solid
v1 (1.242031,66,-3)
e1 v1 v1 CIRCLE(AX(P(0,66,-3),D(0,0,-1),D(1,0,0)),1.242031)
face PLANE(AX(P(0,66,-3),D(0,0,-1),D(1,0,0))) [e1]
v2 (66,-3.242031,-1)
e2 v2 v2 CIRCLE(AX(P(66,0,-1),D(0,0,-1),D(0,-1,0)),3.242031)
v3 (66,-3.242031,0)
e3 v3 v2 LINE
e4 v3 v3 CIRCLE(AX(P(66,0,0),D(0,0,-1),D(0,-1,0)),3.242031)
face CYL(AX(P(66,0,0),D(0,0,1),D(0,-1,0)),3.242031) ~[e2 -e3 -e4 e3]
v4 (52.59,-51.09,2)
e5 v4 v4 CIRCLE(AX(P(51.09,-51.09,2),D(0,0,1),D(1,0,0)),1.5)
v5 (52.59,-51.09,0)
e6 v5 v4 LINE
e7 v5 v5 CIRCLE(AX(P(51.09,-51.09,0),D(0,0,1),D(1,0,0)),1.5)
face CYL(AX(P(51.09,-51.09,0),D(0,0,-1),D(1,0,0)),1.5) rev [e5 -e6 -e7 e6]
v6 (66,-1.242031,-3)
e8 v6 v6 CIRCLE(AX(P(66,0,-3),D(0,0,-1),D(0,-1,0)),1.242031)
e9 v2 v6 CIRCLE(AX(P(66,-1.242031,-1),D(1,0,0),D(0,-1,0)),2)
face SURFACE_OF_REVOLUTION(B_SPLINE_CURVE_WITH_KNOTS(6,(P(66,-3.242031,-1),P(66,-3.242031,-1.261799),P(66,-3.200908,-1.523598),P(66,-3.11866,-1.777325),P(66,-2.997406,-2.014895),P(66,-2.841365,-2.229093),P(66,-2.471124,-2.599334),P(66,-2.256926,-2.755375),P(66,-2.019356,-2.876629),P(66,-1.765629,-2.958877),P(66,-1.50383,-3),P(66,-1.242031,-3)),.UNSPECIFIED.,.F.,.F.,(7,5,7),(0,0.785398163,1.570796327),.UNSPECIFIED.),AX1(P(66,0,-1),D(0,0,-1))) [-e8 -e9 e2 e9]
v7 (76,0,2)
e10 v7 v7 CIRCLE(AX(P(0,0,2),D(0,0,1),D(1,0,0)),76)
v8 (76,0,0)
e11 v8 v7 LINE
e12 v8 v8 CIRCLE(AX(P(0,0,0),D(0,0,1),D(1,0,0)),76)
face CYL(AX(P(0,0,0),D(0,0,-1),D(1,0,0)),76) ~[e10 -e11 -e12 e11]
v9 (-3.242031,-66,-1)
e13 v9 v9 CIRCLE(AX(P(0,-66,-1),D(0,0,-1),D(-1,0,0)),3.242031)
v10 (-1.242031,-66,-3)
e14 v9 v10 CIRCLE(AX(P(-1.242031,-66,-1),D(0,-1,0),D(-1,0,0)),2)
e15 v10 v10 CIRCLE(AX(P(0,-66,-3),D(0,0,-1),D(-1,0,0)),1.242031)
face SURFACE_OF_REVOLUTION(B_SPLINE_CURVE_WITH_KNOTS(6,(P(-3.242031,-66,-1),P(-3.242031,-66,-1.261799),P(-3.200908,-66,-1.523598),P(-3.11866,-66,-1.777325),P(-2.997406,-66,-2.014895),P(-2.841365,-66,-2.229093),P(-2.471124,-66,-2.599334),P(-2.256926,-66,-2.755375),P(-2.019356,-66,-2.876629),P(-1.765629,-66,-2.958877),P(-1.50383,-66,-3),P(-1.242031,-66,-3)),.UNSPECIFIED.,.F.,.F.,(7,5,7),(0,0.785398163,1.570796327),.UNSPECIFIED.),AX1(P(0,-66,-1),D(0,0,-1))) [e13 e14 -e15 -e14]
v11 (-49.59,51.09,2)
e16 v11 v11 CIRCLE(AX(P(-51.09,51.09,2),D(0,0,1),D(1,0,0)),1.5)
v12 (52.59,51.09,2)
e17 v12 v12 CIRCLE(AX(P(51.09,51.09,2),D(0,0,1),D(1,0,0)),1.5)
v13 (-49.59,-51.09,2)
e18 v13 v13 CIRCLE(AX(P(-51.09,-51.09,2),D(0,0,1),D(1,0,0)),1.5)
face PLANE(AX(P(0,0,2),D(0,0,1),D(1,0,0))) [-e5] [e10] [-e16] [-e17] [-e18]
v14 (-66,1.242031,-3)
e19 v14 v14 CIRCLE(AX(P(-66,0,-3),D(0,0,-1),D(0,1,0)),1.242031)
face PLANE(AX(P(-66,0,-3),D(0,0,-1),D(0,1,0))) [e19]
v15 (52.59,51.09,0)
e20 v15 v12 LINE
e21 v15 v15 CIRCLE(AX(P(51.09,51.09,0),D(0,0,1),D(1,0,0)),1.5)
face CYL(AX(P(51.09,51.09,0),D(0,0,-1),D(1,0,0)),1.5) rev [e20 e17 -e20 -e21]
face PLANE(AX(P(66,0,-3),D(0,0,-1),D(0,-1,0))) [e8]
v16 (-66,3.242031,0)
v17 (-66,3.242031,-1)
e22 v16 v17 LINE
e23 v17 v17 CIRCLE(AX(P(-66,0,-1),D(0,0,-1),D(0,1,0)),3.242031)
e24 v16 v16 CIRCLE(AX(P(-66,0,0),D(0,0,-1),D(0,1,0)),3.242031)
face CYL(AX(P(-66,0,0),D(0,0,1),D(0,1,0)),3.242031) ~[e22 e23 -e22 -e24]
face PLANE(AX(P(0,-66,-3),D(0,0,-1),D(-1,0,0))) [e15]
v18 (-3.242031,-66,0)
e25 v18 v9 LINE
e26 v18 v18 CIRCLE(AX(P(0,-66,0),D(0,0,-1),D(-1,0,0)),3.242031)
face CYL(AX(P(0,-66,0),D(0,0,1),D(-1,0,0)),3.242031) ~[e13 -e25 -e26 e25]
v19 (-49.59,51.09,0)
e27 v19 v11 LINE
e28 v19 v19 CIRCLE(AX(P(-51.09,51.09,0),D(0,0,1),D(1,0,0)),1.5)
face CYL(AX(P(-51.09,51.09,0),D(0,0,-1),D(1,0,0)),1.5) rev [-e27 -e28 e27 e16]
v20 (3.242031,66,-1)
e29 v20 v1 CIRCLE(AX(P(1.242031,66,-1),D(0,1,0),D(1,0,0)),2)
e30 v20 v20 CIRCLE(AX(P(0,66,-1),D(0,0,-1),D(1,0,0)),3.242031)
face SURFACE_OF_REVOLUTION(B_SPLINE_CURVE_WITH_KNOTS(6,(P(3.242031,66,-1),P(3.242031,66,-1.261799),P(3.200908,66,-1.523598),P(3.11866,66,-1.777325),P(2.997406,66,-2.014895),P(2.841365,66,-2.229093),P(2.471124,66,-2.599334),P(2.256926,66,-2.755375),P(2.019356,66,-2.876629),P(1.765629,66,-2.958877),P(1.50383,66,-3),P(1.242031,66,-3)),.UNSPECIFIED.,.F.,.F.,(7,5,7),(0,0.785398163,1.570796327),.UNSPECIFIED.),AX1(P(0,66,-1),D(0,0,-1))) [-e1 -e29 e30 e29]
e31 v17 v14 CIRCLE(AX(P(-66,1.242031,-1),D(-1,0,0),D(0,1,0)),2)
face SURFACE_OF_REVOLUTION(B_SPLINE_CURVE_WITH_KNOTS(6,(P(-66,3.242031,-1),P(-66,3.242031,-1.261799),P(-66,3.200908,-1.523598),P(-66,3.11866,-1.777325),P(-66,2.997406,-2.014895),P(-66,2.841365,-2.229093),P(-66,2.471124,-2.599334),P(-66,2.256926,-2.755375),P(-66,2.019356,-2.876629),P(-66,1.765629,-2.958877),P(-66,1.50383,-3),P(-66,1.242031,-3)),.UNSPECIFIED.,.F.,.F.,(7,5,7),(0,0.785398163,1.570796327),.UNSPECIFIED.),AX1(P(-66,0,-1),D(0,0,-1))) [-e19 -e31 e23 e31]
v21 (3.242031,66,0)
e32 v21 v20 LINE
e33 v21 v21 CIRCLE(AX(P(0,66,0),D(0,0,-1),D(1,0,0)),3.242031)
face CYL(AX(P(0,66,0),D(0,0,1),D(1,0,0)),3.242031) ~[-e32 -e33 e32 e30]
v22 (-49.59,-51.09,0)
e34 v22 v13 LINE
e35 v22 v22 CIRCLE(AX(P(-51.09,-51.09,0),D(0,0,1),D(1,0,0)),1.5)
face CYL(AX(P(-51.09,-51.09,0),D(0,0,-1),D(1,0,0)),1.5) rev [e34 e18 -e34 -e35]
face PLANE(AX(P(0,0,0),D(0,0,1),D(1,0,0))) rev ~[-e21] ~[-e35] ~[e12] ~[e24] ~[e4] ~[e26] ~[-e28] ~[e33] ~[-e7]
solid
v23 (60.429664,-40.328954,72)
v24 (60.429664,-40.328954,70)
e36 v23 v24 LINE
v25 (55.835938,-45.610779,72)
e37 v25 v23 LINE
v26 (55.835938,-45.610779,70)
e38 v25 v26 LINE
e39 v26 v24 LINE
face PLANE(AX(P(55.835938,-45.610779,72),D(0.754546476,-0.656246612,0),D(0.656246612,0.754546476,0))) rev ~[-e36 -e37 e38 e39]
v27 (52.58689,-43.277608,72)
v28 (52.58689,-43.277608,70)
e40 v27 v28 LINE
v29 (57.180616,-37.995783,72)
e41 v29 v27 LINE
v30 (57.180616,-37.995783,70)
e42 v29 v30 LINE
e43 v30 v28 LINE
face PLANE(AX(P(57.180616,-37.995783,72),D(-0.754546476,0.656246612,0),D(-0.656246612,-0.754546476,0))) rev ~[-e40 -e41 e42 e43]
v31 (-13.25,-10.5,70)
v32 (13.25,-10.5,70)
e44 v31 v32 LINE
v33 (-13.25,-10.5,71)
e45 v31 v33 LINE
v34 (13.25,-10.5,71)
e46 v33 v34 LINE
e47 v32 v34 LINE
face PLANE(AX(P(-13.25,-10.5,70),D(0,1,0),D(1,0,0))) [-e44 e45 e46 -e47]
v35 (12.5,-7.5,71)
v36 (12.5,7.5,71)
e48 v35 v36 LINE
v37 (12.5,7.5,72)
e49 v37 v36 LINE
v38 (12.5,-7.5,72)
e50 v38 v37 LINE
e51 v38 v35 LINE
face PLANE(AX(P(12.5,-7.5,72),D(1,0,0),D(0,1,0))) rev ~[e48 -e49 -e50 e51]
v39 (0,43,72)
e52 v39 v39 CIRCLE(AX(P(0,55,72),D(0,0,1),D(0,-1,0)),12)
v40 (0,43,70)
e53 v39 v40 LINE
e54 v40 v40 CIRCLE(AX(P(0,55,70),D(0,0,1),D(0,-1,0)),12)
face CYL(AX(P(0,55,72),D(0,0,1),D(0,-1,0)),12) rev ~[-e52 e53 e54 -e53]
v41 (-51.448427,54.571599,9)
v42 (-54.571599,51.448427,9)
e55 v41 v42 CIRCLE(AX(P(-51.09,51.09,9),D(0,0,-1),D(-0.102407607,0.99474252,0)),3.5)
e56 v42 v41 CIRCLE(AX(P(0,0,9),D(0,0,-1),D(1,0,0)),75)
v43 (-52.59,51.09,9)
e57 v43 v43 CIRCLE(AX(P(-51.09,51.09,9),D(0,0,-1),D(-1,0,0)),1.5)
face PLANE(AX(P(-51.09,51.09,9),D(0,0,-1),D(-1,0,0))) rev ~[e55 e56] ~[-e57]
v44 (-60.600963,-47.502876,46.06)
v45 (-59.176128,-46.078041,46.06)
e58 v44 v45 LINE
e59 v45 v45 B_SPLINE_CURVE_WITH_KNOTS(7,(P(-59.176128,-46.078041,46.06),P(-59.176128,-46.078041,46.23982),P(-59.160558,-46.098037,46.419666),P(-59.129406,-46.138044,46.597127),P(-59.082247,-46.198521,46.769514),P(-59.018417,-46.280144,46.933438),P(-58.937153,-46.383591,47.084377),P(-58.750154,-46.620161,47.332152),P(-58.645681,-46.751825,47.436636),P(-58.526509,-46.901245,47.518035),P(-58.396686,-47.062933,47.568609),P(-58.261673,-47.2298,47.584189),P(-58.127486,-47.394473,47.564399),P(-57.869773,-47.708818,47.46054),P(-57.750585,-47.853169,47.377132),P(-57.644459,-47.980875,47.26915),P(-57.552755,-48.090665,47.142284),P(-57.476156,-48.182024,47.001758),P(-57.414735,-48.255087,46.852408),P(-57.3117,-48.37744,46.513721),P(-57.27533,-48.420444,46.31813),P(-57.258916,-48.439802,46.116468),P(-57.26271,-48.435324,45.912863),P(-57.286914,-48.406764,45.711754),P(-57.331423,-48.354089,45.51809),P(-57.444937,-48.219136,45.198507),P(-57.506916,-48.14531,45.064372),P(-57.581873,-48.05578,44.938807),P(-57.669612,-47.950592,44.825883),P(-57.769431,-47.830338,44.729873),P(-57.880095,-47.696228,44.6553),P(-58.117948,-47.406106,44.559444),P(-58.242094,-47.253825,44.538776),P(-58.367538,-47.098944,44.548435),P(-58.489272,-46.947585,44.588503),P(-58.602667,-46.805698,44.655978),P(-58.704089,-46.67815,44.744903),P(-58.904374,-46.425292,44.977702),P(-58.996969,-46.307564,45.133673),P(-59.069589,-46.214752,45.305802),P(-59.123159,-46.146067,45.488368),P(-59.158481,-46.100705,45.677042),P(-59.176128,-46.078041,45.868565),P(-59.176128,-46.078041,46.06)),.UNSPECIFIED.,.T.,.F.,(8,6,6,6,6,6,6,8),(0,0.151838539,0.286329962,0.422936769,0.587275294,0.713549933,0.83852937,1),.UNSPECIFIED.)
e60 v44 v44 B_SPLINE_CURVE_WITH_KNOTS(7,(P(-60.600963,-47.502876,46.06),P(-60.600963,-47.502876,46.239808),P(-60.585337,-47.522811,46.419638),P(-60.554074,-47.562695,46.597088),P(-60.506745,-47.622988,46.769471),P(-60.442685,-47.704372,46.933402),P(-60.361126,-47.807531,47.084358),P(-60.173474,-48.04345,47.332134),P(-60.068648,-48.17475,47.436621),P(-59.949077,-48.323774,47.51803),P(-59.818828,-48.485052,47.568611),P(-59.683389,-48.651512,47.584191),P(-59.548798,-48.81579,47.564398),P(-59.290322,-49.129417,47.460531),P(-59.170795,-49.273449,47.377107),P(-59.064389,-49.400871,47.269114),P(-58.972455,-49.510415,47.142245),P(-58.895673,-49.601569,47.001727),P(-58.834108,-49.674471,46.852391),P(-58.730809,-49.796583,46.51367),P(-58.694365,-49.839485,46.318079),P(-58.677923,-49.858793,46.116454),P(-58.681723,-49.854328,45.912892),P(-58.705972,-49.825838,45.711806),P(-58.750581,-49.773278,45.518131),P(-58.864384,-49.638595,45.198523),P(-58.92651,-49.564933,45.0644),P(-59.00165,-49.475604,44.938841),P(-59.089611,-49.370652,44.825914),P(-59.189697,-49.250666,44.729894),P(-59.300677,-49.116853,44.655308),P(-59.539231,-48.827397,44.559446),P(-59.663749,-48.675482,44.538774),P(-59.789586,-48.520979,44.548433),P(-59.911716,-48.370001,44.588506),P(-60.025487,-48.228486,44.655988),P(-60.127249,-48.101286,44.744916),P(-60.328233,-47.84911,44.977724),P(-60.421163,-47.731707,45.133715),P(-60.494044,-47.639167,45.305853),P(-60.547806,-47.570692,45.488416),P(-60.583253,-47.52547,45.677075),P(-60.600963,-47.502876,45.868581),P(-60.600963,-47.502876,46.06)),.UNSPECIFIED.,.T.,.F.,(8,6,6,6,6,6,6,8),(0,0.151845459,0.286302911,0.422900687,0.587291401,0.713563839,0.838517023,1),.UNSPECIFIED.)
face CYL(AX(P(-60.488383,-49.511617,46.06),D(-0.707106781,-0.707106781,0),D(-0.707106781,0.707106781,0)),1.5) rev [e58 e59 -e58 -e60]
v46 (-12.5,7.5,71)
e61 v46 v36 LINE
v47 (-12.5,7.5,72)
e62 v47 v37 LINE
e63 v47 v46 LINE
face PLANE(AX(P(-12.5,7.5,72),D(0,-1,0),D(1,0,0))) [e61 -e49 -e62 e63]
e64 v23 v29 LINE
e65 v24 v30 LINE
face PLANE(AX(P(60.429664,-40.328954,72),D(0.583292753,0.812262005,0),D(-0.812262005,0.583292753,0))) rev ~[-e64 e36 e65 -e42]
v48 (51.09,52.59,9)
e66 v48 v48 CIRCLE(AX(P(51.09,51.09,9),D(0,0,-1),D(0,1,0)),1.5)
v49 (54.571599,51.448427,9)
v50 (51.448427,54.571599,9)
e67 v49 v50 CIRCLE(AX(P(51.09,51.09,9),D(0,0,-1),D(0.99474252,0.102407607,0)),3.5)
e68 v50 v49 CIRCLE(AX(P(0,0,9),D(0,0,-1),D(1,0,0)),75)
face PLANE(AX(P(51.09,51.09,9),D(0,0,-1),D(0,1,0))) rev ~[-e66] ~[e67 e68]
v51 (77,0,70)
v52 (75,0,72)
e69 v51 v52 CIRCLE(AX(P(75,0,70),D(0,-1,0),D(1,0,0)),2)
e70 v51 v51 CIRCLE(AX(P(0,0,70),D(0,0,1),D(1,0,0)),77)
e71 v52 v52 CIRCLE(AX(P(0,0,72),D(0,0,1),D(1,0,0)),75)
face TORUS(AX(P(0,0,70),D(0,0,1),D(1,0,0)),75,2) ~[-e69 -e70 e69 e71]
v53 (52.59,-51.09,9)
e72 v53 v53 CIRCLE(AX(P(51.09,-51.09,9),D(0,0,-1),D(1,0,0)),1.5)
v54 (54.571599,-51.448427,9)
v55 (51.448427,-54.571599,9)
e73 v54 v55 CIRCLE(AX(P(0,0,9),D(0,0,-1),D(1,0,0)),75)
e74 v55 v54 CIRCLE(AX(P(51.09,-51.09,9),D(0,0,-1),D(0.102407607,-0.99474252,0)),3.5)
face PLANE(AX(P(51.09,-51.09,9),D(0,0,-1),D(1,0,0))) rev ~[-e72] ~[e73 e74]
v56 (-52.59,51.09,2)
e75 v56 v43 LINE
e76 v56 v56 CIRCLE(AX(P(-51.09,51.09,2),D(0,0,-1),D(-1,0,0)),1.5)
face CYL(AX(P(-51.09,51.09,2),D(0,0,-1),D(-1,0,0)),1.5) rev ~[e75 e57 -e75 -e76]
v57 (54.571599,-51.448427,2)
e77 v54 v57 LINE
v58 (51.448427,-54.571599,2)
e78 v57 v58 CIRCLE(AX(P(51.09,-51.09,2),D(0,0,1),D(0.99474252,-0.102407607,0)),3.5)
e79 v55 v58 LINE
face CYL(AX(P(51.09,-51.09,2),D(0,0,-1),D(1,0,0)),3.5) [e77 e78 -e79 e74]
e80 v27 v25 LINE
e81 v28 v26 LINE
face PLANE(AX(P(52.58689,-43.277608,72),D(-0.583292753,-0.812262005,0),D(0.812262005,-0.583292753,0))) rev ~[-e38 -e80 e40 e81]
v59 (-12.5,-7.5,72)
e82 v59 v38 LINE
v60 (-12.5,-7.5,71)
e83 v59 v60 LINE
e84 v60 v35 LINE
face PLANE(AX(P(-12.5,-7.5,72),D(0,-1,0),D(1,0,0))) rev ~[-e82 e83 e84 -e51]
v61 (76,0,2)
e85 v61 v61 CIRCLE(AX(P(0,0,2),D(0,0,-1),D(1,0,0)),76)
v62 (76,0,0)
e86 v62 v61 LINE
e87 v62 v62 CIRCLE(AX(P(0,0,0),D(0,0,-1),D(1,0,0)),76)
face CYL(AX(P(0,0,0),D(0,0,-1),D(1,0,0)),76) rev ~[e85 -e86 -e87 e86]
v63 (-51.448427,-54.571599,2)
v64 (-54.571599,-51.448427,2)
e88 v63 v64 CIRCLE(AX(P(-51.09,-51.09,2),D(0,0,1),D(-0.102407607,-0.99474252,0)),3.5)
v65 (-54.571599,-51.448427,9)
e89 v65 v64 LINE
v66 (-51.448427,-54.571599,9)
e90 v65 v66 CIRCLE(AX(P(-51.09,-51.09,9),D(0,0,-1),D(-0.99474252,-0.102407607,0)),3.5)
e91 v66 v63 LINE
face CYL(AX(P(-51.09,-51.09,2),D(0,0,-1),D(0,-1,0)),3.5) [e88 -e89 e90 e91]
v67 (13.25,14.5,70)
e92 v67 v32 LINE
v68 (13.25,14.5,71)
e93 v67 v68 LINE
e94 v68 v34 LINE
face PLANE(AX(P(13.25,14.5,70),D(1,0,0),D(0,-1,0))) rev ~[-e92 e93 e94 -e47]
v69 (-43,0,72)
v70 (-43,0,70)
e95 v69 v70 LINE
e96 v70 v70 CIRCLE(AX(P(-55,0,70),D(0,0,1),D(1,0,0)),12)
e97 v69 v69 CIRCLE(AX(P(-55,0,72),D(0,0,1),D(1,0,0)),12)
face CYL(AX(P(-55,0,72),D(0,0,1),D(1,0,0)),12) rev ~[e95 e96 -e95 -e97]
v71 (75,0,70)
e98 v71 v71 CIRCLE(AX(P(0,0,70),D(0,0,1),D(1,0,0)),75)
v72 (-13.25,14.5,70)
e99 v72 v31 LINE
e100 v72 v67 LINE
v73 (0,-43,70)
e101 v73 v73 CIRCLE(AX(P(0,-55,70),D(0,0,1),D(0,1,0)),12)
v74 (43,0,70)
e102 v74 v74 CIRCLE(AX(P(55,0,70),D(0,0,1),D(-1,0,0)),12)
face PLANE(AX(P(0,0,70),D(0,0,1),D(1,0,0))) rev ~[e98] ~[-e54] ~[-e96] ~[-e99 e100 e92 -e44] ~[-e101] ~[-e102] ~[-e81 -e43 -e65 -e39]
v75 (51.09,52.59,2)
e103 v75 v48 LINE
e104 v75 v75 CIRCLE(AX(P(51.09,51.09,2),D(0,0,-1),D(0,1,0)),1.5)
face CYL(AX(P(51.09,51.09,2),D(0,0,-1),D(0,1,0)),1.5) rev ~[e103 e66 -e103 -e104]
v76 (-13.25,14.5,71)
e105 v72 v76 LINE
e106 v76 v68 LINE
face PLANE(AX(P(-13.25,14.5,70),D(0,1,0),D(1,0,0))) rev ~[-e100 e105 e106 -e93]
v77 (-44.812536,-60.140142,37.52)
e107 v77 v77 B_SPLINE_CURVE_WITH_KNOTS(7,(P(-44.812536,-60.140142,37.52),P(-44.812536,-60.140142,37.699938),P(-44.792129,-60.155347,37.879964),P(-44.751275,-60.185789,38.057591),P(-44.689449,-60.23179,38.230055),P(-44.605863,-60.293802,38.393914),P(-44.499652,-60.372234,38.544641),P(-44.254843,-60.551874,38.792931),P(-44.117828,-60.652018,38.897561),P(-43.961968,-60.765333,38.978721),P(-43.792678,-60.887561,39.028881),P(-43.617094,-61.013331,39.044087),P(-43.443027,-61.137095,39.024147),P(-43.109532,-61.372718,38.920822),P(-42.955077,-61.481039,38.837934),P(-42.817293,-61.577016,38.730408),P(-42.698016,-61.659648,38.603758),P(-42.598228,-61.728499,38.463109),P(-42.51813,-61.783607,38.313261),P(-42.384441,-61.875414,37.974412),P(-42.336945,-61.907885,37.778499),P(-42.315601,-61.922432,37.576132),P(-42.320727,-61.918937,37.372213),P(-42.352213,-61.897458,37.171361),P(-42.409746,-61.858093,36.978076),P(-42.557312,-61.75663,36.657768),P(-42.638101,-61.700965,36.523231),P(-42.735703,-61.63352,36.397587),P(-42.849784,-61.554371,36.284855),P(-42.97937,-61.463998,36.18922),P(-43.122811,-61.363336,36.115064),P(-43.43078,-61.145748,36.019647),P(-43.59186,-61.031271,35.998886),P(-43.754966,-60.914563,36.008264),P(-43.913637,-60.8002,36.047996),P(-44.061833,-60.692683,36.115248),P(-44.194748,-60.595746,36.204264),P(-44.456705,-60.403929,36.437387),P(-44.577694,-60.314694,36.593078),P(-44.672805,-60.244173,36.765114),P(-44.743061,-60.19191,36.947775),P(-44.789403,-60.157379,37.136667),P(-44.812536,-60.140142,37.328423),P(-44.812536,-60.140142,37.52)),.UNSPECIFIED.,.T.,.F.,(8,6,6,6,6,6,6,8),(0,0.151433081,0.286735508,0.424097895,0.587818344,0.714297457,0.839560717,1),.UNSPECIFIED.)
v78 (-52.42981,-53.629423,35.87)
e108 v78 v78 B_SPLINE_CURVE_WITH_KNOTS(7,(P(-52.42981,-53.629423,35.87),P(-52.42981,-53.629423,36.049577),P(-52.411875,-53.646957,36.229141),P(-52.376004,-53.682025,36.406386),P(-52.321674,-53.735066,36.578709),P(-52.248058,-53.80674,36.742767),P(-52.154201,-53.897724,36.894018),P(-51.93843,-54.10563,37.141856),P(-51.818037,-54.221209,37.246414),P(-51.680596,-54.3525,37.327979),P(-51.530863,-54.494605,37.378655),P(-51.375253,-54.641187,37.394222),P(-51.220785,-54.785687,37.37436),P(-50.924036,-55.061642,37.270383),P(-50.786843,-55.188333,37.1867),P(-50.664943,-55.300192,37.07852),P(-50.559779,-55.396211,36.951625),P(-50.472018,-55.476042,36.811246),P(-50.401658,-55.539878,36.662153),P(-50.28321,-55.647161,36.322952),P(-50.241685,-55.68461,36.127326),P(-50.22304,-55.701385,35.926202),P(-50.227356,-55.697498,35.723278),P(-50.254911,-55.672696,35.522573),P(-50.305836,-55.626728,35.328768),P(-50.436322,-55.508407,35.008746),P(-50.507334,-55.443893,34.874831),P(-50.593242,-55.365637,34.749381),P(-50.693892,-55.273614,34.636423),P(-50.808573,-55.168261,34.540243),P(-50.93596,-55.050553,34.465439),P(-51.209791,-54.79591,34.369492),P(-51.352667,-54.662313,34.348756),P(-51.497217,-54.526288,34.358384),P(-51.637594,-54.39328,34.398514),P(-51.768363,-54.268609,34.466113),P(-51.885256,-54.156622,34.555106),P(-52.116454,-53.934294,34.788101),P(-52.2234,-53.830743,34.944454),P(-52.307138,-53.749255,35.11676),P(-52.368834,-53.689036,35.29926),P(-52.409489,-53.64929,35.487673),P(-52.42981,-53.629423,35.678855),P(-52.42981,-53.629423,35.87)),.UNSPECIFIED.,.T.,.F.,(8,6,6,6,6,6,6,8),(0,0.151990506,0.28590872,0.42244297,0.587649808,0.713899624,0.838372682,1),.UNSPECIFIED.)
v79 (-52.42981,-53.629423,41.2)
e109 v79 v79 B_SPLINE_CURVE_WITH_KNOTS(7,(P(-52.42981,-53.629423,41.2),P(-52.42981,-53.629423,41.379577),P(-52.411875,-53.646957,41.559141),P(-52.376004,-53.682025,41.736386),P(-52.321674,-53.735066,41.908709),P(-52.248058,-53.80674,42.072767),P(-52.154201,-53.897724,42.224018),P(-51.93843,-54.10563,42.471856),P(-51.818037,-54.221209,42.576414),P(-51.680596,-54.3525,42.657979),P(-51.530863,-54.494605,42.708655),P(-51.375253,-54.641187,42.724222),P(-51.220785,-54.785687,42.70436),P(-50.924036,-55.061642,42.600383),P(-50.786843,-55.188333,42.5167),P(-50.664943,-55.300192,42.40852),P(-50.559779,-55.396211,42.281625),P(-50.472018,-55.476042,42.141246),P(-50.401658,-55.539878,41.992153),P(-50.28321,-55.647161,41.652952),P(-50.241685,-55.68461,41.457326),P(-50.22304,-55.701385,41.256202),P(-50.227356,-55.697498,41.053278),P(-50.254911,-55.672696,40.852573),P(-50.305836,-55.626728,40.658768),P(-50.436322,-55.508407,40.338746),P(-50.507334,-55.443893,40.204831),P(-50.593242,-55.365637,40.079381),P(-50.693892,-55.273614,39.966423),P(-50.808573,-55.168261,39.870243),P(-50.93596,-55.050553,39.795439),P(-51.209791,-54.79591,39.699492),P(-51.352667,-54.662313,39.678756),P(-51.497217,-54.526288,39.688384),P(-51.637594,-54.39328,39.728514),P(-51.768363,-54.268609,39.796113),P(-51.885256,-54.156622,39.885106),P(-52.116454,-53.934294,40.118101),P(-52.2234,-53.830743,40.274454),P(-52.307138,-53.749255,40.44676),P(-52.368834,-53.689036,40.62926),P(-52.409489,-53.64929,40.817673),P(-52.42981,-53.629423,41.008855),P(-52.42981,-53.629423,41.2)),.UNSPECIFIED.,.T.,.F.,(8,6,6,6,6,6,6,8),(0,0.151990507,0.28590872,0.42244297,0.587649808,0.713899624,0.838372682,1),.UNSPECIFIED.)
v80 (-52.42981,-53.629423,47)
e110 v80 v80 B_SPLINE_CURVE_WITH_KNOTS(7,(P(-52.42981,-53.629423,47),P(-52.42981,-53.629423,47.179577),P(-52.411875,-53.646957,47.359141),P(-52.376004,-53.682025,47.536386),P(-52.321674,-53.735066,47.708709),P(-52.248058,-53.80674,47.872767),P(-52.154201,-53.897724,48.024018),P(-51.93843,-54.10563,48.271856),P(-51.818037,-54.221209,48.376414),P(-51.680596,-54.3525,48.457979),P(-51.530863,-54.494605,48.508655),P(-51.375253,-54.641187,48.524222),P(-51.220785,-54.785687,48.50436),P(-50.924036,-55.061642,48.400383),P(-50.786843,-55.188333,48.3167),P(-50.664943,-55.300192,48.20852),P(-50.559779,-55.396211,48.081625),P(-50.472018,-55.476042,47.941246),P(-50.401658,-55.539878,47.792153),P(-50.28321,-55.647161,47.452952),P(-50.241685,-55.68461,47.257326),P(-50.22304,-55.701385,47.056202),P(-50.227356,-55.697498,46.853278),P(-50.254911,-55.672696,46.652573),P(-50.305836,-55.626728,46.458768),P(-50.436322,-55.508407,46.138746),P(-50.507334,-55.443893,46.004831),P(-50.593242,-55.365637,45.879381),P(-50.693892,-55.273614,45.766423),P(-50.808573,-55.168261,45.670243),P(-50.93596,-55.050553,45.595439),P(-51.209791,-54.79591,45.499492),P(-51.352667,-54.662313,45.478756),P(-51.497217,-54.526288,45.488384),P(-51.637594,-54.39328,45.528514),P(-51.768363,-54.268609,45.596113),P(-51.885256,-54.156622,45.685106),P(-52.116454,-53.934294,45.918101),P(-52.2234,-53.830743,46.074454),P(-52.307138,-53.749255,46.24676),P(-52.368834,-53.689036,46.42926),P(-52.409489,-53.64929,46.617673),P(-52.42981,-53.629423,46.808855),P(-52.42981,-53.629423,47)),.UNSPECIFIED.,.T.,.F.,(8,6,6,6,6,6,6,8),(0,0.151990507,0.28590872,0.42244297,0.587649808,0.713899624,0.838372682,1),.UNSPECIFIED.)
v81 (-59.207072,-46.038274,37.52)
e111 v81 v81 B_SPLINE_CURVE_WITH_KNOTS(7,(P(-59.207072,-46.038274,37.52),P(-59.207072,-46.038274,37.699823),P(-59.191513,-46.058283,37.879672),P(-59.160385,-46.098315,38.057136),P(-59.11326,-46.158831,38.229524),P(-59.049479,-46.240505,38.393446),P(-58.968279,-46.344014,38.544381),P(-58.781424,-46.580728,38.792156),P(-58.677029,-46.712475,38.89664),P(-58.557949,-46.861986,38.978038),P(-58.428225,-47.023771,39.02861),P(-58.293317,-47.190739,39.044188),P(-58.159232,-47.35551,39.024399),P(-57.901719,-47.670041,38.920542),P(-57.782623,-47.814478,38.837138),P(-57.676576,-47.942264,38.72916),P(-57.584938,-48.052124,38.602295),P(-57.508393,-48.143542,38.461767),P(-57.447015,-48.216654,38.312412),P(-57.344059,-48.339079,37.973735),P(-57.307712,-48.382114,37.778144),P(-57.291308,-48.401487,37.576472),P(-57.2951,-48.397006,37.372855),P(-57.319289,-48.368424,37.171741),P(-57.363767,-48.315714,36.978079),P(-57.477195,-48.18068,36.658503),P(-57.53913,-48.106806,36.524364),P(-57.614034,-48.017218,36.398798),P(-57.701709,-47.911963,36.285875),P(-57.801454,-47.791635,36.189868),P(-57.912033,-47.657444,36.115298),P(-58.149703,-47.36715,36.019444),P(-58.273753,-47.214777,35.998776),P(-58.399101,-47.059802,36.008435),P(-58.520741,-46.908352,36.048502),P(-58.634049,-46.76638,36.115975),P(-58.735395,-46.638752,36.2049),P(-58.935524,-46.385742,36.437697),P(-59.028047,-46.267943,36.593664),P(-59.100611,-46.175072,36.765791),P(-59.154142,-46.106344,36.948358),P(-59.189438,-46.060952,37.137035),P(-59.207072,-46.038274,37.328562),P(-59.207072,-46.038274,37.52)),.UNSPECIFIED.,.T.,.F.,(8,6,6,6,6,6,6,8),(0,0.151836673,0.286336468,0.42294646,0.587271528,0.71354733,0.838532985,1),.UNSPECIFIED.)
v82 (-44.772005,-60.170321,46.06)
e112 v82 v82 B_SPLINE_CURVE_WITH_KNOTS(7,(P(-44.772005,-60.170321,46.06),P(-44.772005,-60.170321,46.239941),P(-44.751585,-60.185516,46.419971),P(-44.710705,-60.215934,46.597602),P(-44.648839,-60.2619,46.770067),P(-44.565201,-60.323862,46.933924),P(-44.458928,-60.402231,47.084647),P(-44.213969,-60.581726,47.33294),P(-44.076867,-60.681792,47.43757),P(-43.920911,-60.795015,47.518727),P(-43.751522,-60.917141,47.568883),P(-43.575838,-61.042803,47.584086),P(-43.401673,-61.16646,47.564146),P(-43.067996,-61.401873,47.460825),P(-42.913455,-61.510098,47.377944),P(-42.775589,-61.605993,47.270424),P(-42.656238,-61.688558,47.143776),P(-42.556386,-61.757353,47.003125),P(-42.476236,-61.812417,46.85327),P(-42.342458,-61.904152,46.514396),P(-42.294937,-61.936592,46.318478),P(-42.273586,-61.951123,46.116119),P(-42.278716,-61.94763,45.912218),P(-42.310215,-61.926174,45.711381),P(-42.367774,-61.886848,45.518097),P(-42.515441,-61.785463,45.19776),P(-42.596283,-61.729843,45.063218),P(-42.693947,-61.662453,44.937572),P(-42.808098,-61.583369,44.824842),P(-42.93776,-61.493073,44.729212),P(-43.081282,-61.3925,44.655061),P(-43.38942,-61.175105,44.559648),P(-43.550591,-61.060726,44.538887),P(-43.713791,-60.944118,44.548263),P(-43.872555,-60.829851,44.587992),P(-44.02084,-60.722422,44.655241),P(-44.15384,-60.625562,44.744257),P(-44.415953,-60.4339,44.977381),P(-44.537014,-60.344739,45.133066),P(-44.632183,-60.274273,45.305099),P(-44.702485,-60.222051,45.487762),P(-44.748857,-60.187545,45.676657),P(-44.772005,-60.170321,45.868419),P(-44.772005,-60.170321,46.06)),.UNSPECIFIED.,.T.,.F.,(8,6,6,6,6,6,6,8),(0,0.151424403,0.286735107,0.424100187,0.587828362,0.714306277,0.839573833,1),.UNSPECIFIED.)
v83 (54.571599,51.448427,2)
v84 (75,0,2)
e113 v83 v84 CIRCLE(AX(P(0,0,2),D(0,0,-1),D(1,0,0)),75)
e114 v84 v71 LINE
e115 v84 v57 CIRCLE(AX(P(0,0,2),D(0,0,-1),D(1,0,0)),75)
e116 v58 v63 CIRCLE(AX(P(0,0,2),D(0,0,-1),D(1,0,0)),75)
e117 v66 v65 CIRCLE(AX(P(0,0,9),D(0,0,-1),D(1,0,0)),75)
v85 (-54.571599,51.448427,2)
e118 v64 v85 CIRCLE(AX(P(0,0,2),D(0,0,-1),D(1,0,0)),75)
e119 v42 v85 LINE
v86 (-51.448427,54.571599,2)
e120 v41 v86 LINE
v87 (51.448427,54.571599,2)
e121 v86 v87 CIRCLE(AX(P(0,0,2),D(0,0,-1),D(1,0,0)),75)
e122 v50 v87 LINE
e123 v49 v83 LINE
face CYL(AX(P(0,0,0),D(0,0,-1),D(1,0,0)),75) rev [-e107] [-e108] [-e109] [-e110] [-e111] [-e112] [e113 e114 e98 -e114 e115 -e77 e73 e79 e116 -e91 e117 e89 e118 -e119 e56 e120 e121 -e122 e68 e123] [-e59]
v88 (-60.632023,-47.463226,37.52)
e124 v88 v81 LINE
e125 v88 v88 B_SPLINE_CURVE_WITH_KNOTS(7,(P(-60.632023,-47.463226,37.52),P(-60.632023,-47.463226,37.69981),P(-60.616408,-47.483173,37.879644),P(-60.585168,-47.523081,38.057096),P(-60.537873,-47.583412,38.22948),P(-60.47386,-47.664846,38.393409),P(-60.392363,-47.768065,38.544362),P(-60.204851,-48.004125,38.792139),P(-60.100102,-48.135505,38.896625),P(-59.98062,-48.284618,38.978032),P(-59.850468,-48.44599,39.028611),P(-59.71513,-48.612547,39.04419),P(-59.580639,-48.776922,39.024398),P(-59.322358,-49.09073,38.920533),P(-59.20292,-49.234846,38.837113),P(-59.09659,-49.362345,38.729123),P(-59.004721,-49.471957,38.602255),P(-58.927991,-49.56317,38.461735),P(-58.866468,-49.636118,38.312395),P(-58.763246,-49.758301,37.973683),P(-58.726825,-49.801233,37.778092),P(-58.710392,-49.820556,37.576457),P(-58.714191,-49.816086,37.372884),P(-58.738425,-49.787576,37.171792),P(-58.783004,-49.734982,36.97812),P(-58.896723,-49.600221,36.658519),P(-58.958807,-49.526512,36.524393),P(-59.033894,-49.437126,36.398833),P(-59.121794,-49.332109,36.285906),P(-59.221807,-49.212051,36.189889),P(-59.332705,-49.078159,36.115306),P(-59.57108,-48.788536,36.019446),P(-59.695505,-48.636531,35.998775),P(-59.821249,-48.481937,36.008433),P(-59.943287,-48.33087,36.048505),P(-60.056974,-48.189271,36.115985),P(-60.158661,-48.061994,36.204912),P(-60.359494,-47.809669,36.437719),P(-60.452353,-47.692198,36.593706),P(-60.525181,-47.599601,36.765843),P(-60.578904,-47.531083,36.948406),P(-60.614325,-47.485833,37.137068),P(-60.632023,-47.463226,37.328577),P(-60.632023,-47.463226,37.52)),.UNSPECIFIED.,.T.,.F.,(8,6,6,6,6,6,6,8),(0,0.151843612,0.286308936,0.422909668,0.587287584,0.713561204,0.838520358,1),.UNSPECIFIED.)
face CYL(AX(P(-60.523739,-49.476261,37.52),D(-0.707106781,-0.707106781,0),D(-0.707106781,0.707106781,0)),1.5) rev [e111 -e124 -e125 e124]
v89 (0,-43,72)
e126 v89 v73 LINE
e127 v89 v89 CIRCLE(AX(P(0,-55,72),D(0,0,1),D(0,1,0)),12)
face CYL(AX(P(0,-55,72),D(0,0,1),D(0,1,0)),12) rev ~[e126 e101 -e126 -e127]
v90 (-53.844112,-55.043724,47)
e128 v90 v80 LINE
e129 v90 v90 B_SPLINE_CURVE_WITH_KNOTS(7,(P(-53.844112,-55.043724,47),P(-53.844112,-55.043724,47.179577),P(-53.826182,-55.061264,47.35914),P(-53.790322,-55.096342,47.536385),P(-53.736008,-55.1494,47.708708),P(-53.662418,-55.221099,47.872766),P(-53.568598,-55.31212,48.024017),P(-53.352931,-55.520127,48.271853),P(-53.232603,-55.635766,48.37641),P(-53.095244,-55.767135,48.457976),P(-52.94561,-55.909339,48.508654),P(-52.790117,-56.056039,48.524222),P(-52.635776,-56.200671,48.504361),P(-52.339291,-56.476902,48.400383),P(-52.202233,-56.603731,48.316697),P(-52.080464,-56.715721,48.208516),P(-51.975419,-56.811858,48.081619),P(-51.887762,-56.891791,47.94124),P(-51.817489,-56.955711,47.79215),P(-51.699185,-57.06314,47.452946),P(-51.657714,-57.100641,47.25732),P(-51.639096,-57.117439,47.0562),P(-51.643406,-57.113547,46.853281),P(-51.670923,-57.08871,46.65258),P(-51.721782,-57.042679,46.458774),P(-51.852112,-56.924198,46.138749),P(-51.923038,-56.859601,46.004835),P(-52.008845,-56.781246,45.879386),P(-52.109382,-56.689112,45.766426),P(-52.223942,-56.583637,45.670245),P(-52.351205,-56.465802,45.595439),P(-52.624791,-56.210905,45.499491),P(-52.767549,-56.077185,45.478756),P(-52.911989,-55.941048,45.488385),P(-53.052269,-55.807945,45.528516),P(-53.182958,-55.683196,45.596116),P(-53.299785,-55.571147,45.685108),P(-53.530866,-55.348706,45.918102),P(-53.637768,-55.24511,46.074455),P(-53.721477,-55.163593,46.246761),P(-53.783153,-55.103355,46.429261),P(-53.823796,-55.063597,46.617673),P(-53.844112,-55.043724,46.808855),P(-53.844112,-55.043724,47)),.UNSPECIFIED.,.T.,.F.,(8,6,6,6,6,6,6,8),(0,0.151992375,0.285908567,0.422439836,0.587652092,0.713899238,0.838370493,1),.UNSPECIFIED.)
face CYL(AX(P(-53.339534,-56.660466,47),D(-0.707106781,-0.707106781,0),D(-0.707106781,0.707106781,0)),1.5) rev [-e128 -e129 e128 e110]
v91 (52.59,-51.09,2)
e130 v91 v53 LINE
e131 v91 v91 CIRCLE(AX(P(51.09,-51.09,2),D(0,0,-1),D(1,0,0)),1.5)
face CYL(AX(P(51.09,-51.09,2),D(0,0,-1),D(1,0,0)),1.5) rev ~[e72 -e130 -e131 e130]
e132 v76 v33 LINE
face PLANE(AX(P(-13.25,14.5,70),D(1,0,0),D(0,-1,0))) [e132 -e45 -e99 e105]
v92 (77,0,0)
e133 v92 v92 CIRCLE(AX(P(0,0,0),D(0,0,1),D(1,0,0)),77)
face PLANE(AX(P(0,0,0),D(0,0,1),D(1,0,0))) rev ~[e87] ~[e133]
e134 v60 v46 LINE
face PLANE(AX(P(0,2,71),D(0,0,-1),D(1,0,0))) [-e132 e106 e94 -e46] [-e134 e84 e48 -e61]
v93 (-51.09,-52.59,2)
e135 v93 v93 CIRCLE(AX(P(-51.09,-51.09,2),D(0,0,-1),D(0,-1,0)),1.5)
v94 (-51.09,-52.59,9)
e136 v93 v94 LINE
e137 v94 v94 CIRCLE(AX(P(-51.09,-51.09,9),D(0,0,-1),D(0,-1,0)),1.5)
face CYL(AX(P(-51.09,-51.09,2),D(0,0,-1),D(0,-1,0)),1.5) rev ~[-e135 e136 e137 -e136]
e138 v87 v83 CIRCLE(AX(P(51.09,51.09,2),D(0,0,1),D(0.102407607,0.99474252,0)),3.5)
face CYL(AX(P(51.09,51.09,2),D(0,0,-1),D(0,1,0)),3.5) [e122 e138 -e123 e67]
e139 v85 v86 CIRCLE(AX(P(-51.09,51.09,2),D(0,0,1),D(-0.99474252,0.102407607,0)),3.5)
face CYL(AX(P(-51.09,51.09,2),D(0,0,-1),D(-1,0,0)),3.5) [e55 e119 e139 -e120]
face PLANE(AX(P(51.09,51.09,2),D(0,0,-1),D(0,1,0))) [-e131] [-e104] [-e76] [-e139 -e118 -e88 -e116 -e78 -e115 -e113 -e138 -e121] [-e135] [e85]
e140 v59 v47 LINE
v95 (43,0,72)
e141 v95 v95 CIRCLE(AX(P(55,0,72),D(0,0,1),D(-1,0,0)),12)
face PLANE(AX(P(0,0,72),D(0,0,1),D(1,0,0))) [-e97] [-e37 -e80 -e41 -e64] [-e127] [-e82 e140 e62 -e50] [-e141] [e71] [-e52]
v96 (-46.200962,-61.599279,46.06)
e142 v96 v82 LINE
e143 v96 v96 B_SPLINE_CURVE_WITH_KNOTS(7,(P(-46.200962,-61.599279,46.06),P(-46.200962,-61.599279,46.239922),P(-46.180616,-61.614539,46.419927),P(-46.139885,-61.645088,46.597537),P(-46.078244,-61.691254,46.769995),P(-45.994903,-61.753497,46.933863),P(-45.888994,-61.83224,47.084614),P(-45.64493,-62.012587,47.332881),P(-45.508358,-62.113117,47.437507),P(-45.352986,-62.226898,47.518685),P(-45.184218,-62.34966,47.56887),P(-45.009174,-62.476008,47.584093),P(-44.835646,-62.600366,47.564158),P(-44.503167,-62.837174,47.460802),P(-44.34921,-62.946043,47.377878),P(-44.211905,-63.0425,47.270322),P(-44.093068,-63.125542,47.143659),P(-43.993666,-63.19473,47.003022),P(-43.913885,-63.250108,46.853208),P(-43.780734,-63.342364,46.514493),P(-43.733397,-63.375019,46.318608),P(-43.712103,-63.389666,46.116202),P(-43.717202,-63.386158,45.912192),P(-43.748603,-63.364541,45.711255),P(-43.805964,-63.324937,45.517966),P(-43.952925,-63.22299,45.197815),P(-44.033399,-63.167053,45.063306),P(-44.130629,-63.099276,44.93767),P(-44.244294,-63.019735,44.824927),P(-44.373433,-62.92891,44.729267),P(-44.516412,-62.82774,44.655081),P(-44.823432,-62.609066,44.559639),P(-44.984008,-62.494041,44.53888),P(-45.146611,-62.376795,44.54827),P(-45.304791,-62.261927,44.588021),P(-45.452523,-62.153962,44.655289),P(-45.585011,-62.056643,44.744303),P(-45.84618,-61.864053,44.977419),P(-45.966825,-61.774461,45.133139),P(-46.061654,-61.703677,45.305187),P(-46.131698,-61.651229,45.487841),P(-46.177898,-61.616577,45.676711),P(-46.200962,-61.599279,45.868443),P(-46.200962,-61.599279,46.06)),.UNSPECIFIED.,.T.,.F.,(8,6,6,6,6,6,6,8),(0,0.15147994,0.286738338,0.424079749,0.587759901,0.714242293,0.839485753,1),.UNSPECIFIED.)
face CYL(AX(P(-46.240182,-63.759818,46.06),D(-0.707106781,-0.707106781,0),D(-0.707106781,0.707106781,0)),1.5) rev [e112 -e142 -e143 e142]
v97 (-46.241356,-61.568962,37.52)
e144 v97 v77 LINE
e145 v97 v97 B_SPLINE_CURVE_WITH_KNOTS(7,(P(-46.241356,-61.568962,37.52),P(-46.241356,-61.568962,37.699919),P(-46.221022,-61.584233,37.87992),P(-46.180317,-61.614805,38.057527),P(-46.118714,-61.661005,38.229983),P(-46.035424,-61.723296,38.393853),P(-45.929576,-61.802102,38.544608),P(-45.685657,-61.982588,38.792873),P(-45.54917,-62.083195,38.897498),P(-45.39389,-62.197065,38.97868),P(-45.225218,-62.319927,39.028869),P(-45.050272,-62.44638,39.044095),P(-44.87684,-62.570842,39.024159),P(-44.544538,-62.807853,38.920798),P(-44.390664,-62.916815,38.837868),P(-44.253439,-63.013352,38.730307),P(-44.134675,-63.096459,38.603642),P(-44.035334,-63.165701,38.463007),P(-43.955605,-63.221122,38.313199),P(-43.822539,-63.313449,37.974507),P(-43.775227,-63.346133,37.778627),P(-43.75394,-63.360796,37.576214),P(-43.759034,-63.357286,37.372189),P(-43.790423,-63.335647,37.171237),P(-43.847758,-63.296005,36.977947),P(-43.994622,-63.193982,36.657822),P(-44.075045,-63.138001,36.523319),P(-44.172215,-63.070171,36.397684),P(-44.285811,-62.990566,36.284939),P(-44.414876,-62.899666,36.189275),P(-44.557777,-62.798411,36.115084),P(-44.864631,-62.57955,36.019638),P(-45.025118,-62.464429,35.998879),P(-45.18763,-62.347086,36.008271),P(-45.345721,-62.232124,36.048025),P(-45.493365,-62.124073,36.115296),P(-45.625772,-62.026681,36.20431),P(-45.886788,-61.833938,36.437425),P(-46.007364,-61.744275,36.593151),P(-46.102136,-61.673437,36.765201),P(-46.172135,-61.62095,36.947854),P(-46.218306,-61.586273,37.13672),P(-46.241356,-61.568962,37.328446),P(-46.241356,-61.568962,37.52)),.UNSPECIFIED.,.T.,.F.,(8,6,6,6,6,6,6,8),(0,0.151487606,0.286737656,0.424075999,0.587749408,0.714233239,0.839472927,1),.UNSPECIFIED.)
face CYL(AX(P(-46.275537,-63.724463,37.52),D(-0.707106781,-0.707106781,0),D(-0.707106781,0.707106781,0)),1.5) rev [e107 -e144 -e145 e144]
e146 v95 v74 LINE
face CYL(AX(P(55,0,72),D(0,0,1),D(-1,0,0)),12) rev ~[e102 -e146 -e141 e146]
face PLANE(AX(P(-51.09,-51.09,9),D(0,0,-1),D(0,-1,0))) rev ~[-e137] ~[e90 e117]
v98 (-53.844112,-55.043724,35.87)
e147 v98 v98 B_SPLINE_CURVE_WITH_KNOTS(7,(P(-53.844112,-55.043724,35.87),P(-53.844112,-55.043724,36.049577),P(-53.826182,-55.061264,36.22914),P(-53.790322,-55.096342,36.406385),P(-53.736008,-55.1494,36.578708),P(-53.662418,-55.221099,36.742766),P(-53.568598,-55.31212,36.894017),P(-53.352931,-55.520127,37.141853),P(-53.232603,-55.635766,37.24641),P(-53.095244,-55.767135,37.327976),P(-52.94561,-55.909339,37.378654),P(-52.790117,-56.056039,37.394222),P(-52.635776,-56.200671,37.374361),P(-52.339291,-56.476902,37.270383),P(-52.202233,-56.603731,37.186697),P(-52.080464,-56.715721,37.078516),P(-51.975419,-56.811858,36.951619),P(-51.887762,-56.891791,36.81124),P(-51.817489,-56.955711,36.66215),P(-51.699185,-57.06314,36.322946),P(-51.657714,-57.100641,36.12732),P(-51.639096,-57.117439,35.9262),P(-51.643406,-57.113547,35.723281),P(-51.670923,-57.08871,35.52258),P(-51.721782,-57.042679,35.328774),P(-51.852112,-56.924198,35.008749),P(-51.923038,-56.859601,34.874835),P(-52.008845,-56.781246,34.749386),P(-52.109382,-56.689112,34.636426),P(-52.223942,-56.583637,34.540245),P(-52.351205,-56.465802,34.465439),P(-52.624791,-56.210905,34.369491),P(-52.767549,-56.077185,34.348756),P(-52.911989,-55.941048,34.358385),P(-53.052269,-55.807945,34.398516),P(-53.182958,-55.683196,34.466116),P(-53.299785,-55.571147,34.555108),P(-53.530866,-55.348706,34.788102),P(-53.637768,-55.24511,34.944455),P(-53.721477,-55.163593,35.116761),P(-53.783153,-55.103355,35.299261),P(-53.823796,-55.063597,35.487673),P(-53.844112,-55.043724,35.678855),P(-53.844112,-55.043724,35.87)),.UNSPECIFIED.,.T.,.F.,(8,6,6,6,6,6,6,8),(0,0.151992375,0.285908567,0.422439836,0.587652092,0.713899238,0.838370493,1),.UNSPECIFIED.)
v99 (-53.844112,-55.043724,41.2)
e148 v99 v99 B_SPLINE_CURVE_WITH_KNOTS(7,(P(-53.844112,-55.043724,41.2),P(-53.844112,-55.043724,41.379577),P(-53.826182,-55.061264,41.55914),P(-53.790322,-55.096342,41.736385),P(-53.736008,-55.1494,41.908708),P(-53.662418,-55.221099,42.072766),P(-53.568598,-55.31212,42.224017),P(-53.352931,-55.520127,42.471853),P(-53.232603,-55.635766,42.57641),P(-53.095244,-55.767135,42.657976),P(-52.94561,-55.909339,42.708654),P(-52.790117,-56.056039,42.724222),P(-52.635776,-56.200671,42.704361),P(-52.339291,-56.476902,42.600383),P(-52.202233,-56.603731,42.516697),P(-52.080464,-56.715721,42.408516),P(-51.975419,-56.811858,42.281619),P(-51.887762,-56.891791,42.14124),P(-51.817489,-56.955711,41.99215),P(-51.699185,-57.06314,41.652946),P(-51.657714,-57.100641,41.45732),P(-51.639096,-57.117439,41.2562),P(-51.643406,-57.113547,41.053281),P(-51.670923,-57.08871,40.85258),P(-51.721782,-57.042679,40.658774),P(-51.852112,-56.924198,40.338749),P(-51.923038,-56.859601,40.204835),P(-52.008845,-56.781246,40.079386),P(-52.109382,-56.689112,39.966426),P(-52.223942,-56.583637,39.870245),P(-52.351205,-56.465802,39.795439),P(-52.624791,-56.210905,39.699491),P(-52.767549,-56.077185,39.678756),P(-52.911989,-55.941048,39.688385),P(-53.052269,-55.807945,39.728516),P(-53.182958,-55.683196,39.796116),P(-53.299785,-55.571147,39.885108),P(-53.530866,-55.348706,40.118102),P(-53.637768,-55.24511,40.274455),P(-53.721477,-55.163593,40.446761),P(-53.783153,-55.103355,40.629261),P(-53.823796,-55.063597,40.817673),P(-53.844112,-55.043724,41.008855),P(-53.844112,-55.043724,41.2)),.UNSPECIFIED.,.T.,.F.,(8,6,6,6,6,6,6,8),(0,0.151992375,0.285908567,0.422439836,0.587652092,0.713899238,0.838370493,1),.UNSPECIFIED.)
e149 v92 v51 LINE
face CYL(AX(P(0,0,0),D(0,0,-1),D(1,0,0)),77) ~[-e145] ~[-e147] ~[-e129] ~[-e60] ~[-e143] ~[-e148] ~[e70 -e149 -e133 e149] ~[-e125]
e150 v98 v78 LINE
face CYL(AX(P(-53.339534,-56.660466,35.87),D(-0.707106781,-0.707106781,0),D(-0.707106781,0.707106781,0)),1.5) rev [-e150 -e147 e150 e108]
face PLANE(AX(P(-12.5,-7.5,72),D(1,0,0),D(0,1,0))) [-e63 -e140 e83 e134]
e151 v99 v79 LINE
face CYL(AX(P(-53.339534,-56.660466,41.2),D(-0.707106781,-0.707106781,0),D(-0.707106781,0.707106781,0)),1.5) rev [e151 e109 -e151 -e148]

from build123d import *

# Parameters (mm, degrees)
SKETCH_R              = 75
PAD_DEPTH             = 70
THICKNESS_T           = 2
SKETCH001_R           = 12
POCKET_DEPTH          = 5
POLARPATTERN_COUNT    = 4
SKETCH002_R           = 76
POCKET001_DEPTH       = 2
SKETCH003_R           = 3.5
SKETCH003_R_2         = 1.5
PAD001_DEPTH          = 7
POLARPATTERN001_COUNT = 4
SKETCH006_R           = 1.5
POCKET002_DEPTH       = 8
SKETCH007_W           = 25
SKETCH007_H           = 15
POCKET003_DEPTH       = 4
POCKET004_DEPTH       = 3
SKETCH009_W           = 26.5
SKETCH009_H           = 25
POCKET005_DEPTH       = 1
SKETCH004_R           = 76
SKETCH004_R_2         = 1.5
PAD002_DEPTH          = 2
SKETCH005_R           = 3.242031
PAD003_DEPTH          = 3
POLARPATTERN002_COUNT = 4
FILLET_R              = 2


with BuildPart() as enclosure:
    # Sketch → Pad (new body)
    with BuildSketch(Plane.XY):
        Circle(SKETCH_R)
    extrude(amount=PAD_DEPTH)

    # Thickness
    thickness_openings = [enclosure.faces().sort_by_distance(p)[0] for p in [
        (0, 0, 0),
    ]]
    offset(amount=THICKNESS_T, openings=thickness_openings)

    # Sketch001 (on Face6 of Thickness) → Pocket (cut)
    with BuildSketch(Plane.XY.offset(72)):
        with Locations((-55, 0)):
            Circle(SKETCH001_R)
    pocket = extrude(amount=-POCKET_DEPTH, mode=Mode.SUBTRACT)

    # PolarPattern: Pocket ×4 about axis
    polarpattern_axis = Axis((0, 0, 72), (0, 0, 1))
    for i in range(1, POLARPATTERN_COUNT):
        add(pocket.rotate(polarpattern_axis, i * 360 / POLARPATTERN_COUNT), mode=Mode.SUBTRACT)

    # Sketch002 (on Face2 of PolarPattern) → Pocket001 (cut)
    with BuildSketch(Plane(origin=(0, 0, 0), x_dir=(1, 0, 0), z_dir=(0, 0, -1))):
        Circle(SKETCH002_R)
    extrude(amount=-POCKET001_DEPTH, mode=Mode.SUBTRACT)

    # Sketch003 (on Face2 of Pocket001) → Pad001 (join)
    with BuildSketch(Plane(origin=(0, 0, 2), x_dir=(1, 0, 0), z_dir=(0, 0, -1))):
        with Locations((51.09, 51.09)):
            Circle(SKETCH003_R)
        with Locations((51.09, 51.09)):
            Circle(SKETCH003_R_2, mode=Mode.SUBTRACT)
    pad001 = extrude(amount=-PAD001_DEPTH)

    # PolarPattern001: Pad001 ×4 about axis
    polarpattern001_axis = Axis((0, 0, 2), (0, 0, -1))
    for i in range(1, POLARPATTERN001_COUNT):
        add(pad001.rotate(polarpattern001_axis, i * 360 / POLARPATTERN001_COUNT))

    # Sketch006 (on DatumPlane) → Pocket002 (cut)
    with BuildSketch(Plane(origin=(-110, 0, 0), x_dir=(-0.707107, 0.707107, 0), z_dir=(0.707107, 0.707107, 0))):
        with Locations((-80.13, 41.2)):
            Circle(SKETCH006_R)
        with Locations((-90.12, 37.52)):
            Circle(SKETCH006_R)
        with Locations((-90.17, 46.06)):
            Circle(SKETCH006_R)
        with Locations((-80.13, 35.87)):
            Circle(SKETCH006_R)
        with Locations((-80.13, 47)):
            Circle(SKETCH006_R)
        with Locations((-69.97, 37.52)):
            Circle(SKETCH006_R)
        with Locations((-70.02, 46.06)):
            Circle(SKETCH006_R)
    extrude(amount=POCKET002_DEPTH, mode=Mode.SUBTRACT)

    # Sketch007 (on Face42 of Pocket002) → Pocket003 (cut)
    with BuildSketch(Plane.XY.offset(72)):
        Rectangle(SKETCH007_W, SKETCH007_H)
    extrude(amount=-POCKET003_DEPTH, mode=Mode.SUBTRACT)

    # Sketch008 (on Face46 of Pocket003) → Pocket004 (cut)
    with BuildSketch(Plane.XY.offset(72)):
        Polygon((57.180616, -37.995783), (52.58689, -43.277608), (55.835938, -45.610779), (60.429664, -40.328954), align=None)
    extrude(amount=-POCKET004_DEPTH, mode=Mode.SUBTRACT)

    # Sketch009 (on Face7 of Pocket004) → Pocket005 (cut)
    with BuildSketch(Plane(origin=(0, 0, 70), x_dir=(1, 0, 0), z_dir=(0, 0, -1))):
        with Locations((0, -2)):
            Rectangle(SKETCH009_W, SKETCH009_H)
    extrude(amount=-POCKET005_DEPTH, mode=Mode.SUBTRACT)


with BuildPart() as lid:
    # Sketch004 → Pad002 (new body)
    with BuildSketch(Plane.XY):
        Circle(SKETCH004_R)
        with Locations((-51.09, -51.09)):
            Circle(SKETCH004_R_2, mode=Mode.SUBTRACT)
        with Locations((-51.09, 51.09)):
            Circle(SKETCH004_R_2, mode=Mode.SUBTRACT)
        with Locations((51.09, 51.09)):
            Circle(SKETCH004_R_2, mode=Mode.SUBTRACT)
        with Locations((51.09, -51.09)):
            Circle(SKETCH004_R_2, mode=Mode.SUBTRACT)
    extrude(amount=PAD002_DEPTH)

    # Sketch005 (on Face6 of Pad002) → Pad003 (join)
    with BuildSketch(Plane(origin=(0, 0, 0), x_dir=(1, 0, 0), z_dir=(0, 0, -1))):
        with Locations((0, -66)):
            Circle(SKETCH005_R)
    pad003 = extrude(amount=PAD003_DEPTH)

    # PolarPattern002: Pad003 ×4 about axis
    polarpattern002_axis = Axis((0, 0, 0), (0, 0, -1))
    for i in range(1, POLARPATTERN002_COUNT):
        add(pad003.rotate(polarpattern002_axis, i * 360 / POLARPATTERN002_COUNT))

    # Fillet
    fillet_edges = [lid.edges().sort_by_distance(p)[0] for p in [
        (-66, -3.242031, -3),
        (-3.242031, 66, -3),
        (66, 3.242031, -3),
        (3.242031, -66, -3),
    ]]
    fillet(fillet_edges, radius=FILLET_R)


solid = Compound([enclosure.part, lid.part])
